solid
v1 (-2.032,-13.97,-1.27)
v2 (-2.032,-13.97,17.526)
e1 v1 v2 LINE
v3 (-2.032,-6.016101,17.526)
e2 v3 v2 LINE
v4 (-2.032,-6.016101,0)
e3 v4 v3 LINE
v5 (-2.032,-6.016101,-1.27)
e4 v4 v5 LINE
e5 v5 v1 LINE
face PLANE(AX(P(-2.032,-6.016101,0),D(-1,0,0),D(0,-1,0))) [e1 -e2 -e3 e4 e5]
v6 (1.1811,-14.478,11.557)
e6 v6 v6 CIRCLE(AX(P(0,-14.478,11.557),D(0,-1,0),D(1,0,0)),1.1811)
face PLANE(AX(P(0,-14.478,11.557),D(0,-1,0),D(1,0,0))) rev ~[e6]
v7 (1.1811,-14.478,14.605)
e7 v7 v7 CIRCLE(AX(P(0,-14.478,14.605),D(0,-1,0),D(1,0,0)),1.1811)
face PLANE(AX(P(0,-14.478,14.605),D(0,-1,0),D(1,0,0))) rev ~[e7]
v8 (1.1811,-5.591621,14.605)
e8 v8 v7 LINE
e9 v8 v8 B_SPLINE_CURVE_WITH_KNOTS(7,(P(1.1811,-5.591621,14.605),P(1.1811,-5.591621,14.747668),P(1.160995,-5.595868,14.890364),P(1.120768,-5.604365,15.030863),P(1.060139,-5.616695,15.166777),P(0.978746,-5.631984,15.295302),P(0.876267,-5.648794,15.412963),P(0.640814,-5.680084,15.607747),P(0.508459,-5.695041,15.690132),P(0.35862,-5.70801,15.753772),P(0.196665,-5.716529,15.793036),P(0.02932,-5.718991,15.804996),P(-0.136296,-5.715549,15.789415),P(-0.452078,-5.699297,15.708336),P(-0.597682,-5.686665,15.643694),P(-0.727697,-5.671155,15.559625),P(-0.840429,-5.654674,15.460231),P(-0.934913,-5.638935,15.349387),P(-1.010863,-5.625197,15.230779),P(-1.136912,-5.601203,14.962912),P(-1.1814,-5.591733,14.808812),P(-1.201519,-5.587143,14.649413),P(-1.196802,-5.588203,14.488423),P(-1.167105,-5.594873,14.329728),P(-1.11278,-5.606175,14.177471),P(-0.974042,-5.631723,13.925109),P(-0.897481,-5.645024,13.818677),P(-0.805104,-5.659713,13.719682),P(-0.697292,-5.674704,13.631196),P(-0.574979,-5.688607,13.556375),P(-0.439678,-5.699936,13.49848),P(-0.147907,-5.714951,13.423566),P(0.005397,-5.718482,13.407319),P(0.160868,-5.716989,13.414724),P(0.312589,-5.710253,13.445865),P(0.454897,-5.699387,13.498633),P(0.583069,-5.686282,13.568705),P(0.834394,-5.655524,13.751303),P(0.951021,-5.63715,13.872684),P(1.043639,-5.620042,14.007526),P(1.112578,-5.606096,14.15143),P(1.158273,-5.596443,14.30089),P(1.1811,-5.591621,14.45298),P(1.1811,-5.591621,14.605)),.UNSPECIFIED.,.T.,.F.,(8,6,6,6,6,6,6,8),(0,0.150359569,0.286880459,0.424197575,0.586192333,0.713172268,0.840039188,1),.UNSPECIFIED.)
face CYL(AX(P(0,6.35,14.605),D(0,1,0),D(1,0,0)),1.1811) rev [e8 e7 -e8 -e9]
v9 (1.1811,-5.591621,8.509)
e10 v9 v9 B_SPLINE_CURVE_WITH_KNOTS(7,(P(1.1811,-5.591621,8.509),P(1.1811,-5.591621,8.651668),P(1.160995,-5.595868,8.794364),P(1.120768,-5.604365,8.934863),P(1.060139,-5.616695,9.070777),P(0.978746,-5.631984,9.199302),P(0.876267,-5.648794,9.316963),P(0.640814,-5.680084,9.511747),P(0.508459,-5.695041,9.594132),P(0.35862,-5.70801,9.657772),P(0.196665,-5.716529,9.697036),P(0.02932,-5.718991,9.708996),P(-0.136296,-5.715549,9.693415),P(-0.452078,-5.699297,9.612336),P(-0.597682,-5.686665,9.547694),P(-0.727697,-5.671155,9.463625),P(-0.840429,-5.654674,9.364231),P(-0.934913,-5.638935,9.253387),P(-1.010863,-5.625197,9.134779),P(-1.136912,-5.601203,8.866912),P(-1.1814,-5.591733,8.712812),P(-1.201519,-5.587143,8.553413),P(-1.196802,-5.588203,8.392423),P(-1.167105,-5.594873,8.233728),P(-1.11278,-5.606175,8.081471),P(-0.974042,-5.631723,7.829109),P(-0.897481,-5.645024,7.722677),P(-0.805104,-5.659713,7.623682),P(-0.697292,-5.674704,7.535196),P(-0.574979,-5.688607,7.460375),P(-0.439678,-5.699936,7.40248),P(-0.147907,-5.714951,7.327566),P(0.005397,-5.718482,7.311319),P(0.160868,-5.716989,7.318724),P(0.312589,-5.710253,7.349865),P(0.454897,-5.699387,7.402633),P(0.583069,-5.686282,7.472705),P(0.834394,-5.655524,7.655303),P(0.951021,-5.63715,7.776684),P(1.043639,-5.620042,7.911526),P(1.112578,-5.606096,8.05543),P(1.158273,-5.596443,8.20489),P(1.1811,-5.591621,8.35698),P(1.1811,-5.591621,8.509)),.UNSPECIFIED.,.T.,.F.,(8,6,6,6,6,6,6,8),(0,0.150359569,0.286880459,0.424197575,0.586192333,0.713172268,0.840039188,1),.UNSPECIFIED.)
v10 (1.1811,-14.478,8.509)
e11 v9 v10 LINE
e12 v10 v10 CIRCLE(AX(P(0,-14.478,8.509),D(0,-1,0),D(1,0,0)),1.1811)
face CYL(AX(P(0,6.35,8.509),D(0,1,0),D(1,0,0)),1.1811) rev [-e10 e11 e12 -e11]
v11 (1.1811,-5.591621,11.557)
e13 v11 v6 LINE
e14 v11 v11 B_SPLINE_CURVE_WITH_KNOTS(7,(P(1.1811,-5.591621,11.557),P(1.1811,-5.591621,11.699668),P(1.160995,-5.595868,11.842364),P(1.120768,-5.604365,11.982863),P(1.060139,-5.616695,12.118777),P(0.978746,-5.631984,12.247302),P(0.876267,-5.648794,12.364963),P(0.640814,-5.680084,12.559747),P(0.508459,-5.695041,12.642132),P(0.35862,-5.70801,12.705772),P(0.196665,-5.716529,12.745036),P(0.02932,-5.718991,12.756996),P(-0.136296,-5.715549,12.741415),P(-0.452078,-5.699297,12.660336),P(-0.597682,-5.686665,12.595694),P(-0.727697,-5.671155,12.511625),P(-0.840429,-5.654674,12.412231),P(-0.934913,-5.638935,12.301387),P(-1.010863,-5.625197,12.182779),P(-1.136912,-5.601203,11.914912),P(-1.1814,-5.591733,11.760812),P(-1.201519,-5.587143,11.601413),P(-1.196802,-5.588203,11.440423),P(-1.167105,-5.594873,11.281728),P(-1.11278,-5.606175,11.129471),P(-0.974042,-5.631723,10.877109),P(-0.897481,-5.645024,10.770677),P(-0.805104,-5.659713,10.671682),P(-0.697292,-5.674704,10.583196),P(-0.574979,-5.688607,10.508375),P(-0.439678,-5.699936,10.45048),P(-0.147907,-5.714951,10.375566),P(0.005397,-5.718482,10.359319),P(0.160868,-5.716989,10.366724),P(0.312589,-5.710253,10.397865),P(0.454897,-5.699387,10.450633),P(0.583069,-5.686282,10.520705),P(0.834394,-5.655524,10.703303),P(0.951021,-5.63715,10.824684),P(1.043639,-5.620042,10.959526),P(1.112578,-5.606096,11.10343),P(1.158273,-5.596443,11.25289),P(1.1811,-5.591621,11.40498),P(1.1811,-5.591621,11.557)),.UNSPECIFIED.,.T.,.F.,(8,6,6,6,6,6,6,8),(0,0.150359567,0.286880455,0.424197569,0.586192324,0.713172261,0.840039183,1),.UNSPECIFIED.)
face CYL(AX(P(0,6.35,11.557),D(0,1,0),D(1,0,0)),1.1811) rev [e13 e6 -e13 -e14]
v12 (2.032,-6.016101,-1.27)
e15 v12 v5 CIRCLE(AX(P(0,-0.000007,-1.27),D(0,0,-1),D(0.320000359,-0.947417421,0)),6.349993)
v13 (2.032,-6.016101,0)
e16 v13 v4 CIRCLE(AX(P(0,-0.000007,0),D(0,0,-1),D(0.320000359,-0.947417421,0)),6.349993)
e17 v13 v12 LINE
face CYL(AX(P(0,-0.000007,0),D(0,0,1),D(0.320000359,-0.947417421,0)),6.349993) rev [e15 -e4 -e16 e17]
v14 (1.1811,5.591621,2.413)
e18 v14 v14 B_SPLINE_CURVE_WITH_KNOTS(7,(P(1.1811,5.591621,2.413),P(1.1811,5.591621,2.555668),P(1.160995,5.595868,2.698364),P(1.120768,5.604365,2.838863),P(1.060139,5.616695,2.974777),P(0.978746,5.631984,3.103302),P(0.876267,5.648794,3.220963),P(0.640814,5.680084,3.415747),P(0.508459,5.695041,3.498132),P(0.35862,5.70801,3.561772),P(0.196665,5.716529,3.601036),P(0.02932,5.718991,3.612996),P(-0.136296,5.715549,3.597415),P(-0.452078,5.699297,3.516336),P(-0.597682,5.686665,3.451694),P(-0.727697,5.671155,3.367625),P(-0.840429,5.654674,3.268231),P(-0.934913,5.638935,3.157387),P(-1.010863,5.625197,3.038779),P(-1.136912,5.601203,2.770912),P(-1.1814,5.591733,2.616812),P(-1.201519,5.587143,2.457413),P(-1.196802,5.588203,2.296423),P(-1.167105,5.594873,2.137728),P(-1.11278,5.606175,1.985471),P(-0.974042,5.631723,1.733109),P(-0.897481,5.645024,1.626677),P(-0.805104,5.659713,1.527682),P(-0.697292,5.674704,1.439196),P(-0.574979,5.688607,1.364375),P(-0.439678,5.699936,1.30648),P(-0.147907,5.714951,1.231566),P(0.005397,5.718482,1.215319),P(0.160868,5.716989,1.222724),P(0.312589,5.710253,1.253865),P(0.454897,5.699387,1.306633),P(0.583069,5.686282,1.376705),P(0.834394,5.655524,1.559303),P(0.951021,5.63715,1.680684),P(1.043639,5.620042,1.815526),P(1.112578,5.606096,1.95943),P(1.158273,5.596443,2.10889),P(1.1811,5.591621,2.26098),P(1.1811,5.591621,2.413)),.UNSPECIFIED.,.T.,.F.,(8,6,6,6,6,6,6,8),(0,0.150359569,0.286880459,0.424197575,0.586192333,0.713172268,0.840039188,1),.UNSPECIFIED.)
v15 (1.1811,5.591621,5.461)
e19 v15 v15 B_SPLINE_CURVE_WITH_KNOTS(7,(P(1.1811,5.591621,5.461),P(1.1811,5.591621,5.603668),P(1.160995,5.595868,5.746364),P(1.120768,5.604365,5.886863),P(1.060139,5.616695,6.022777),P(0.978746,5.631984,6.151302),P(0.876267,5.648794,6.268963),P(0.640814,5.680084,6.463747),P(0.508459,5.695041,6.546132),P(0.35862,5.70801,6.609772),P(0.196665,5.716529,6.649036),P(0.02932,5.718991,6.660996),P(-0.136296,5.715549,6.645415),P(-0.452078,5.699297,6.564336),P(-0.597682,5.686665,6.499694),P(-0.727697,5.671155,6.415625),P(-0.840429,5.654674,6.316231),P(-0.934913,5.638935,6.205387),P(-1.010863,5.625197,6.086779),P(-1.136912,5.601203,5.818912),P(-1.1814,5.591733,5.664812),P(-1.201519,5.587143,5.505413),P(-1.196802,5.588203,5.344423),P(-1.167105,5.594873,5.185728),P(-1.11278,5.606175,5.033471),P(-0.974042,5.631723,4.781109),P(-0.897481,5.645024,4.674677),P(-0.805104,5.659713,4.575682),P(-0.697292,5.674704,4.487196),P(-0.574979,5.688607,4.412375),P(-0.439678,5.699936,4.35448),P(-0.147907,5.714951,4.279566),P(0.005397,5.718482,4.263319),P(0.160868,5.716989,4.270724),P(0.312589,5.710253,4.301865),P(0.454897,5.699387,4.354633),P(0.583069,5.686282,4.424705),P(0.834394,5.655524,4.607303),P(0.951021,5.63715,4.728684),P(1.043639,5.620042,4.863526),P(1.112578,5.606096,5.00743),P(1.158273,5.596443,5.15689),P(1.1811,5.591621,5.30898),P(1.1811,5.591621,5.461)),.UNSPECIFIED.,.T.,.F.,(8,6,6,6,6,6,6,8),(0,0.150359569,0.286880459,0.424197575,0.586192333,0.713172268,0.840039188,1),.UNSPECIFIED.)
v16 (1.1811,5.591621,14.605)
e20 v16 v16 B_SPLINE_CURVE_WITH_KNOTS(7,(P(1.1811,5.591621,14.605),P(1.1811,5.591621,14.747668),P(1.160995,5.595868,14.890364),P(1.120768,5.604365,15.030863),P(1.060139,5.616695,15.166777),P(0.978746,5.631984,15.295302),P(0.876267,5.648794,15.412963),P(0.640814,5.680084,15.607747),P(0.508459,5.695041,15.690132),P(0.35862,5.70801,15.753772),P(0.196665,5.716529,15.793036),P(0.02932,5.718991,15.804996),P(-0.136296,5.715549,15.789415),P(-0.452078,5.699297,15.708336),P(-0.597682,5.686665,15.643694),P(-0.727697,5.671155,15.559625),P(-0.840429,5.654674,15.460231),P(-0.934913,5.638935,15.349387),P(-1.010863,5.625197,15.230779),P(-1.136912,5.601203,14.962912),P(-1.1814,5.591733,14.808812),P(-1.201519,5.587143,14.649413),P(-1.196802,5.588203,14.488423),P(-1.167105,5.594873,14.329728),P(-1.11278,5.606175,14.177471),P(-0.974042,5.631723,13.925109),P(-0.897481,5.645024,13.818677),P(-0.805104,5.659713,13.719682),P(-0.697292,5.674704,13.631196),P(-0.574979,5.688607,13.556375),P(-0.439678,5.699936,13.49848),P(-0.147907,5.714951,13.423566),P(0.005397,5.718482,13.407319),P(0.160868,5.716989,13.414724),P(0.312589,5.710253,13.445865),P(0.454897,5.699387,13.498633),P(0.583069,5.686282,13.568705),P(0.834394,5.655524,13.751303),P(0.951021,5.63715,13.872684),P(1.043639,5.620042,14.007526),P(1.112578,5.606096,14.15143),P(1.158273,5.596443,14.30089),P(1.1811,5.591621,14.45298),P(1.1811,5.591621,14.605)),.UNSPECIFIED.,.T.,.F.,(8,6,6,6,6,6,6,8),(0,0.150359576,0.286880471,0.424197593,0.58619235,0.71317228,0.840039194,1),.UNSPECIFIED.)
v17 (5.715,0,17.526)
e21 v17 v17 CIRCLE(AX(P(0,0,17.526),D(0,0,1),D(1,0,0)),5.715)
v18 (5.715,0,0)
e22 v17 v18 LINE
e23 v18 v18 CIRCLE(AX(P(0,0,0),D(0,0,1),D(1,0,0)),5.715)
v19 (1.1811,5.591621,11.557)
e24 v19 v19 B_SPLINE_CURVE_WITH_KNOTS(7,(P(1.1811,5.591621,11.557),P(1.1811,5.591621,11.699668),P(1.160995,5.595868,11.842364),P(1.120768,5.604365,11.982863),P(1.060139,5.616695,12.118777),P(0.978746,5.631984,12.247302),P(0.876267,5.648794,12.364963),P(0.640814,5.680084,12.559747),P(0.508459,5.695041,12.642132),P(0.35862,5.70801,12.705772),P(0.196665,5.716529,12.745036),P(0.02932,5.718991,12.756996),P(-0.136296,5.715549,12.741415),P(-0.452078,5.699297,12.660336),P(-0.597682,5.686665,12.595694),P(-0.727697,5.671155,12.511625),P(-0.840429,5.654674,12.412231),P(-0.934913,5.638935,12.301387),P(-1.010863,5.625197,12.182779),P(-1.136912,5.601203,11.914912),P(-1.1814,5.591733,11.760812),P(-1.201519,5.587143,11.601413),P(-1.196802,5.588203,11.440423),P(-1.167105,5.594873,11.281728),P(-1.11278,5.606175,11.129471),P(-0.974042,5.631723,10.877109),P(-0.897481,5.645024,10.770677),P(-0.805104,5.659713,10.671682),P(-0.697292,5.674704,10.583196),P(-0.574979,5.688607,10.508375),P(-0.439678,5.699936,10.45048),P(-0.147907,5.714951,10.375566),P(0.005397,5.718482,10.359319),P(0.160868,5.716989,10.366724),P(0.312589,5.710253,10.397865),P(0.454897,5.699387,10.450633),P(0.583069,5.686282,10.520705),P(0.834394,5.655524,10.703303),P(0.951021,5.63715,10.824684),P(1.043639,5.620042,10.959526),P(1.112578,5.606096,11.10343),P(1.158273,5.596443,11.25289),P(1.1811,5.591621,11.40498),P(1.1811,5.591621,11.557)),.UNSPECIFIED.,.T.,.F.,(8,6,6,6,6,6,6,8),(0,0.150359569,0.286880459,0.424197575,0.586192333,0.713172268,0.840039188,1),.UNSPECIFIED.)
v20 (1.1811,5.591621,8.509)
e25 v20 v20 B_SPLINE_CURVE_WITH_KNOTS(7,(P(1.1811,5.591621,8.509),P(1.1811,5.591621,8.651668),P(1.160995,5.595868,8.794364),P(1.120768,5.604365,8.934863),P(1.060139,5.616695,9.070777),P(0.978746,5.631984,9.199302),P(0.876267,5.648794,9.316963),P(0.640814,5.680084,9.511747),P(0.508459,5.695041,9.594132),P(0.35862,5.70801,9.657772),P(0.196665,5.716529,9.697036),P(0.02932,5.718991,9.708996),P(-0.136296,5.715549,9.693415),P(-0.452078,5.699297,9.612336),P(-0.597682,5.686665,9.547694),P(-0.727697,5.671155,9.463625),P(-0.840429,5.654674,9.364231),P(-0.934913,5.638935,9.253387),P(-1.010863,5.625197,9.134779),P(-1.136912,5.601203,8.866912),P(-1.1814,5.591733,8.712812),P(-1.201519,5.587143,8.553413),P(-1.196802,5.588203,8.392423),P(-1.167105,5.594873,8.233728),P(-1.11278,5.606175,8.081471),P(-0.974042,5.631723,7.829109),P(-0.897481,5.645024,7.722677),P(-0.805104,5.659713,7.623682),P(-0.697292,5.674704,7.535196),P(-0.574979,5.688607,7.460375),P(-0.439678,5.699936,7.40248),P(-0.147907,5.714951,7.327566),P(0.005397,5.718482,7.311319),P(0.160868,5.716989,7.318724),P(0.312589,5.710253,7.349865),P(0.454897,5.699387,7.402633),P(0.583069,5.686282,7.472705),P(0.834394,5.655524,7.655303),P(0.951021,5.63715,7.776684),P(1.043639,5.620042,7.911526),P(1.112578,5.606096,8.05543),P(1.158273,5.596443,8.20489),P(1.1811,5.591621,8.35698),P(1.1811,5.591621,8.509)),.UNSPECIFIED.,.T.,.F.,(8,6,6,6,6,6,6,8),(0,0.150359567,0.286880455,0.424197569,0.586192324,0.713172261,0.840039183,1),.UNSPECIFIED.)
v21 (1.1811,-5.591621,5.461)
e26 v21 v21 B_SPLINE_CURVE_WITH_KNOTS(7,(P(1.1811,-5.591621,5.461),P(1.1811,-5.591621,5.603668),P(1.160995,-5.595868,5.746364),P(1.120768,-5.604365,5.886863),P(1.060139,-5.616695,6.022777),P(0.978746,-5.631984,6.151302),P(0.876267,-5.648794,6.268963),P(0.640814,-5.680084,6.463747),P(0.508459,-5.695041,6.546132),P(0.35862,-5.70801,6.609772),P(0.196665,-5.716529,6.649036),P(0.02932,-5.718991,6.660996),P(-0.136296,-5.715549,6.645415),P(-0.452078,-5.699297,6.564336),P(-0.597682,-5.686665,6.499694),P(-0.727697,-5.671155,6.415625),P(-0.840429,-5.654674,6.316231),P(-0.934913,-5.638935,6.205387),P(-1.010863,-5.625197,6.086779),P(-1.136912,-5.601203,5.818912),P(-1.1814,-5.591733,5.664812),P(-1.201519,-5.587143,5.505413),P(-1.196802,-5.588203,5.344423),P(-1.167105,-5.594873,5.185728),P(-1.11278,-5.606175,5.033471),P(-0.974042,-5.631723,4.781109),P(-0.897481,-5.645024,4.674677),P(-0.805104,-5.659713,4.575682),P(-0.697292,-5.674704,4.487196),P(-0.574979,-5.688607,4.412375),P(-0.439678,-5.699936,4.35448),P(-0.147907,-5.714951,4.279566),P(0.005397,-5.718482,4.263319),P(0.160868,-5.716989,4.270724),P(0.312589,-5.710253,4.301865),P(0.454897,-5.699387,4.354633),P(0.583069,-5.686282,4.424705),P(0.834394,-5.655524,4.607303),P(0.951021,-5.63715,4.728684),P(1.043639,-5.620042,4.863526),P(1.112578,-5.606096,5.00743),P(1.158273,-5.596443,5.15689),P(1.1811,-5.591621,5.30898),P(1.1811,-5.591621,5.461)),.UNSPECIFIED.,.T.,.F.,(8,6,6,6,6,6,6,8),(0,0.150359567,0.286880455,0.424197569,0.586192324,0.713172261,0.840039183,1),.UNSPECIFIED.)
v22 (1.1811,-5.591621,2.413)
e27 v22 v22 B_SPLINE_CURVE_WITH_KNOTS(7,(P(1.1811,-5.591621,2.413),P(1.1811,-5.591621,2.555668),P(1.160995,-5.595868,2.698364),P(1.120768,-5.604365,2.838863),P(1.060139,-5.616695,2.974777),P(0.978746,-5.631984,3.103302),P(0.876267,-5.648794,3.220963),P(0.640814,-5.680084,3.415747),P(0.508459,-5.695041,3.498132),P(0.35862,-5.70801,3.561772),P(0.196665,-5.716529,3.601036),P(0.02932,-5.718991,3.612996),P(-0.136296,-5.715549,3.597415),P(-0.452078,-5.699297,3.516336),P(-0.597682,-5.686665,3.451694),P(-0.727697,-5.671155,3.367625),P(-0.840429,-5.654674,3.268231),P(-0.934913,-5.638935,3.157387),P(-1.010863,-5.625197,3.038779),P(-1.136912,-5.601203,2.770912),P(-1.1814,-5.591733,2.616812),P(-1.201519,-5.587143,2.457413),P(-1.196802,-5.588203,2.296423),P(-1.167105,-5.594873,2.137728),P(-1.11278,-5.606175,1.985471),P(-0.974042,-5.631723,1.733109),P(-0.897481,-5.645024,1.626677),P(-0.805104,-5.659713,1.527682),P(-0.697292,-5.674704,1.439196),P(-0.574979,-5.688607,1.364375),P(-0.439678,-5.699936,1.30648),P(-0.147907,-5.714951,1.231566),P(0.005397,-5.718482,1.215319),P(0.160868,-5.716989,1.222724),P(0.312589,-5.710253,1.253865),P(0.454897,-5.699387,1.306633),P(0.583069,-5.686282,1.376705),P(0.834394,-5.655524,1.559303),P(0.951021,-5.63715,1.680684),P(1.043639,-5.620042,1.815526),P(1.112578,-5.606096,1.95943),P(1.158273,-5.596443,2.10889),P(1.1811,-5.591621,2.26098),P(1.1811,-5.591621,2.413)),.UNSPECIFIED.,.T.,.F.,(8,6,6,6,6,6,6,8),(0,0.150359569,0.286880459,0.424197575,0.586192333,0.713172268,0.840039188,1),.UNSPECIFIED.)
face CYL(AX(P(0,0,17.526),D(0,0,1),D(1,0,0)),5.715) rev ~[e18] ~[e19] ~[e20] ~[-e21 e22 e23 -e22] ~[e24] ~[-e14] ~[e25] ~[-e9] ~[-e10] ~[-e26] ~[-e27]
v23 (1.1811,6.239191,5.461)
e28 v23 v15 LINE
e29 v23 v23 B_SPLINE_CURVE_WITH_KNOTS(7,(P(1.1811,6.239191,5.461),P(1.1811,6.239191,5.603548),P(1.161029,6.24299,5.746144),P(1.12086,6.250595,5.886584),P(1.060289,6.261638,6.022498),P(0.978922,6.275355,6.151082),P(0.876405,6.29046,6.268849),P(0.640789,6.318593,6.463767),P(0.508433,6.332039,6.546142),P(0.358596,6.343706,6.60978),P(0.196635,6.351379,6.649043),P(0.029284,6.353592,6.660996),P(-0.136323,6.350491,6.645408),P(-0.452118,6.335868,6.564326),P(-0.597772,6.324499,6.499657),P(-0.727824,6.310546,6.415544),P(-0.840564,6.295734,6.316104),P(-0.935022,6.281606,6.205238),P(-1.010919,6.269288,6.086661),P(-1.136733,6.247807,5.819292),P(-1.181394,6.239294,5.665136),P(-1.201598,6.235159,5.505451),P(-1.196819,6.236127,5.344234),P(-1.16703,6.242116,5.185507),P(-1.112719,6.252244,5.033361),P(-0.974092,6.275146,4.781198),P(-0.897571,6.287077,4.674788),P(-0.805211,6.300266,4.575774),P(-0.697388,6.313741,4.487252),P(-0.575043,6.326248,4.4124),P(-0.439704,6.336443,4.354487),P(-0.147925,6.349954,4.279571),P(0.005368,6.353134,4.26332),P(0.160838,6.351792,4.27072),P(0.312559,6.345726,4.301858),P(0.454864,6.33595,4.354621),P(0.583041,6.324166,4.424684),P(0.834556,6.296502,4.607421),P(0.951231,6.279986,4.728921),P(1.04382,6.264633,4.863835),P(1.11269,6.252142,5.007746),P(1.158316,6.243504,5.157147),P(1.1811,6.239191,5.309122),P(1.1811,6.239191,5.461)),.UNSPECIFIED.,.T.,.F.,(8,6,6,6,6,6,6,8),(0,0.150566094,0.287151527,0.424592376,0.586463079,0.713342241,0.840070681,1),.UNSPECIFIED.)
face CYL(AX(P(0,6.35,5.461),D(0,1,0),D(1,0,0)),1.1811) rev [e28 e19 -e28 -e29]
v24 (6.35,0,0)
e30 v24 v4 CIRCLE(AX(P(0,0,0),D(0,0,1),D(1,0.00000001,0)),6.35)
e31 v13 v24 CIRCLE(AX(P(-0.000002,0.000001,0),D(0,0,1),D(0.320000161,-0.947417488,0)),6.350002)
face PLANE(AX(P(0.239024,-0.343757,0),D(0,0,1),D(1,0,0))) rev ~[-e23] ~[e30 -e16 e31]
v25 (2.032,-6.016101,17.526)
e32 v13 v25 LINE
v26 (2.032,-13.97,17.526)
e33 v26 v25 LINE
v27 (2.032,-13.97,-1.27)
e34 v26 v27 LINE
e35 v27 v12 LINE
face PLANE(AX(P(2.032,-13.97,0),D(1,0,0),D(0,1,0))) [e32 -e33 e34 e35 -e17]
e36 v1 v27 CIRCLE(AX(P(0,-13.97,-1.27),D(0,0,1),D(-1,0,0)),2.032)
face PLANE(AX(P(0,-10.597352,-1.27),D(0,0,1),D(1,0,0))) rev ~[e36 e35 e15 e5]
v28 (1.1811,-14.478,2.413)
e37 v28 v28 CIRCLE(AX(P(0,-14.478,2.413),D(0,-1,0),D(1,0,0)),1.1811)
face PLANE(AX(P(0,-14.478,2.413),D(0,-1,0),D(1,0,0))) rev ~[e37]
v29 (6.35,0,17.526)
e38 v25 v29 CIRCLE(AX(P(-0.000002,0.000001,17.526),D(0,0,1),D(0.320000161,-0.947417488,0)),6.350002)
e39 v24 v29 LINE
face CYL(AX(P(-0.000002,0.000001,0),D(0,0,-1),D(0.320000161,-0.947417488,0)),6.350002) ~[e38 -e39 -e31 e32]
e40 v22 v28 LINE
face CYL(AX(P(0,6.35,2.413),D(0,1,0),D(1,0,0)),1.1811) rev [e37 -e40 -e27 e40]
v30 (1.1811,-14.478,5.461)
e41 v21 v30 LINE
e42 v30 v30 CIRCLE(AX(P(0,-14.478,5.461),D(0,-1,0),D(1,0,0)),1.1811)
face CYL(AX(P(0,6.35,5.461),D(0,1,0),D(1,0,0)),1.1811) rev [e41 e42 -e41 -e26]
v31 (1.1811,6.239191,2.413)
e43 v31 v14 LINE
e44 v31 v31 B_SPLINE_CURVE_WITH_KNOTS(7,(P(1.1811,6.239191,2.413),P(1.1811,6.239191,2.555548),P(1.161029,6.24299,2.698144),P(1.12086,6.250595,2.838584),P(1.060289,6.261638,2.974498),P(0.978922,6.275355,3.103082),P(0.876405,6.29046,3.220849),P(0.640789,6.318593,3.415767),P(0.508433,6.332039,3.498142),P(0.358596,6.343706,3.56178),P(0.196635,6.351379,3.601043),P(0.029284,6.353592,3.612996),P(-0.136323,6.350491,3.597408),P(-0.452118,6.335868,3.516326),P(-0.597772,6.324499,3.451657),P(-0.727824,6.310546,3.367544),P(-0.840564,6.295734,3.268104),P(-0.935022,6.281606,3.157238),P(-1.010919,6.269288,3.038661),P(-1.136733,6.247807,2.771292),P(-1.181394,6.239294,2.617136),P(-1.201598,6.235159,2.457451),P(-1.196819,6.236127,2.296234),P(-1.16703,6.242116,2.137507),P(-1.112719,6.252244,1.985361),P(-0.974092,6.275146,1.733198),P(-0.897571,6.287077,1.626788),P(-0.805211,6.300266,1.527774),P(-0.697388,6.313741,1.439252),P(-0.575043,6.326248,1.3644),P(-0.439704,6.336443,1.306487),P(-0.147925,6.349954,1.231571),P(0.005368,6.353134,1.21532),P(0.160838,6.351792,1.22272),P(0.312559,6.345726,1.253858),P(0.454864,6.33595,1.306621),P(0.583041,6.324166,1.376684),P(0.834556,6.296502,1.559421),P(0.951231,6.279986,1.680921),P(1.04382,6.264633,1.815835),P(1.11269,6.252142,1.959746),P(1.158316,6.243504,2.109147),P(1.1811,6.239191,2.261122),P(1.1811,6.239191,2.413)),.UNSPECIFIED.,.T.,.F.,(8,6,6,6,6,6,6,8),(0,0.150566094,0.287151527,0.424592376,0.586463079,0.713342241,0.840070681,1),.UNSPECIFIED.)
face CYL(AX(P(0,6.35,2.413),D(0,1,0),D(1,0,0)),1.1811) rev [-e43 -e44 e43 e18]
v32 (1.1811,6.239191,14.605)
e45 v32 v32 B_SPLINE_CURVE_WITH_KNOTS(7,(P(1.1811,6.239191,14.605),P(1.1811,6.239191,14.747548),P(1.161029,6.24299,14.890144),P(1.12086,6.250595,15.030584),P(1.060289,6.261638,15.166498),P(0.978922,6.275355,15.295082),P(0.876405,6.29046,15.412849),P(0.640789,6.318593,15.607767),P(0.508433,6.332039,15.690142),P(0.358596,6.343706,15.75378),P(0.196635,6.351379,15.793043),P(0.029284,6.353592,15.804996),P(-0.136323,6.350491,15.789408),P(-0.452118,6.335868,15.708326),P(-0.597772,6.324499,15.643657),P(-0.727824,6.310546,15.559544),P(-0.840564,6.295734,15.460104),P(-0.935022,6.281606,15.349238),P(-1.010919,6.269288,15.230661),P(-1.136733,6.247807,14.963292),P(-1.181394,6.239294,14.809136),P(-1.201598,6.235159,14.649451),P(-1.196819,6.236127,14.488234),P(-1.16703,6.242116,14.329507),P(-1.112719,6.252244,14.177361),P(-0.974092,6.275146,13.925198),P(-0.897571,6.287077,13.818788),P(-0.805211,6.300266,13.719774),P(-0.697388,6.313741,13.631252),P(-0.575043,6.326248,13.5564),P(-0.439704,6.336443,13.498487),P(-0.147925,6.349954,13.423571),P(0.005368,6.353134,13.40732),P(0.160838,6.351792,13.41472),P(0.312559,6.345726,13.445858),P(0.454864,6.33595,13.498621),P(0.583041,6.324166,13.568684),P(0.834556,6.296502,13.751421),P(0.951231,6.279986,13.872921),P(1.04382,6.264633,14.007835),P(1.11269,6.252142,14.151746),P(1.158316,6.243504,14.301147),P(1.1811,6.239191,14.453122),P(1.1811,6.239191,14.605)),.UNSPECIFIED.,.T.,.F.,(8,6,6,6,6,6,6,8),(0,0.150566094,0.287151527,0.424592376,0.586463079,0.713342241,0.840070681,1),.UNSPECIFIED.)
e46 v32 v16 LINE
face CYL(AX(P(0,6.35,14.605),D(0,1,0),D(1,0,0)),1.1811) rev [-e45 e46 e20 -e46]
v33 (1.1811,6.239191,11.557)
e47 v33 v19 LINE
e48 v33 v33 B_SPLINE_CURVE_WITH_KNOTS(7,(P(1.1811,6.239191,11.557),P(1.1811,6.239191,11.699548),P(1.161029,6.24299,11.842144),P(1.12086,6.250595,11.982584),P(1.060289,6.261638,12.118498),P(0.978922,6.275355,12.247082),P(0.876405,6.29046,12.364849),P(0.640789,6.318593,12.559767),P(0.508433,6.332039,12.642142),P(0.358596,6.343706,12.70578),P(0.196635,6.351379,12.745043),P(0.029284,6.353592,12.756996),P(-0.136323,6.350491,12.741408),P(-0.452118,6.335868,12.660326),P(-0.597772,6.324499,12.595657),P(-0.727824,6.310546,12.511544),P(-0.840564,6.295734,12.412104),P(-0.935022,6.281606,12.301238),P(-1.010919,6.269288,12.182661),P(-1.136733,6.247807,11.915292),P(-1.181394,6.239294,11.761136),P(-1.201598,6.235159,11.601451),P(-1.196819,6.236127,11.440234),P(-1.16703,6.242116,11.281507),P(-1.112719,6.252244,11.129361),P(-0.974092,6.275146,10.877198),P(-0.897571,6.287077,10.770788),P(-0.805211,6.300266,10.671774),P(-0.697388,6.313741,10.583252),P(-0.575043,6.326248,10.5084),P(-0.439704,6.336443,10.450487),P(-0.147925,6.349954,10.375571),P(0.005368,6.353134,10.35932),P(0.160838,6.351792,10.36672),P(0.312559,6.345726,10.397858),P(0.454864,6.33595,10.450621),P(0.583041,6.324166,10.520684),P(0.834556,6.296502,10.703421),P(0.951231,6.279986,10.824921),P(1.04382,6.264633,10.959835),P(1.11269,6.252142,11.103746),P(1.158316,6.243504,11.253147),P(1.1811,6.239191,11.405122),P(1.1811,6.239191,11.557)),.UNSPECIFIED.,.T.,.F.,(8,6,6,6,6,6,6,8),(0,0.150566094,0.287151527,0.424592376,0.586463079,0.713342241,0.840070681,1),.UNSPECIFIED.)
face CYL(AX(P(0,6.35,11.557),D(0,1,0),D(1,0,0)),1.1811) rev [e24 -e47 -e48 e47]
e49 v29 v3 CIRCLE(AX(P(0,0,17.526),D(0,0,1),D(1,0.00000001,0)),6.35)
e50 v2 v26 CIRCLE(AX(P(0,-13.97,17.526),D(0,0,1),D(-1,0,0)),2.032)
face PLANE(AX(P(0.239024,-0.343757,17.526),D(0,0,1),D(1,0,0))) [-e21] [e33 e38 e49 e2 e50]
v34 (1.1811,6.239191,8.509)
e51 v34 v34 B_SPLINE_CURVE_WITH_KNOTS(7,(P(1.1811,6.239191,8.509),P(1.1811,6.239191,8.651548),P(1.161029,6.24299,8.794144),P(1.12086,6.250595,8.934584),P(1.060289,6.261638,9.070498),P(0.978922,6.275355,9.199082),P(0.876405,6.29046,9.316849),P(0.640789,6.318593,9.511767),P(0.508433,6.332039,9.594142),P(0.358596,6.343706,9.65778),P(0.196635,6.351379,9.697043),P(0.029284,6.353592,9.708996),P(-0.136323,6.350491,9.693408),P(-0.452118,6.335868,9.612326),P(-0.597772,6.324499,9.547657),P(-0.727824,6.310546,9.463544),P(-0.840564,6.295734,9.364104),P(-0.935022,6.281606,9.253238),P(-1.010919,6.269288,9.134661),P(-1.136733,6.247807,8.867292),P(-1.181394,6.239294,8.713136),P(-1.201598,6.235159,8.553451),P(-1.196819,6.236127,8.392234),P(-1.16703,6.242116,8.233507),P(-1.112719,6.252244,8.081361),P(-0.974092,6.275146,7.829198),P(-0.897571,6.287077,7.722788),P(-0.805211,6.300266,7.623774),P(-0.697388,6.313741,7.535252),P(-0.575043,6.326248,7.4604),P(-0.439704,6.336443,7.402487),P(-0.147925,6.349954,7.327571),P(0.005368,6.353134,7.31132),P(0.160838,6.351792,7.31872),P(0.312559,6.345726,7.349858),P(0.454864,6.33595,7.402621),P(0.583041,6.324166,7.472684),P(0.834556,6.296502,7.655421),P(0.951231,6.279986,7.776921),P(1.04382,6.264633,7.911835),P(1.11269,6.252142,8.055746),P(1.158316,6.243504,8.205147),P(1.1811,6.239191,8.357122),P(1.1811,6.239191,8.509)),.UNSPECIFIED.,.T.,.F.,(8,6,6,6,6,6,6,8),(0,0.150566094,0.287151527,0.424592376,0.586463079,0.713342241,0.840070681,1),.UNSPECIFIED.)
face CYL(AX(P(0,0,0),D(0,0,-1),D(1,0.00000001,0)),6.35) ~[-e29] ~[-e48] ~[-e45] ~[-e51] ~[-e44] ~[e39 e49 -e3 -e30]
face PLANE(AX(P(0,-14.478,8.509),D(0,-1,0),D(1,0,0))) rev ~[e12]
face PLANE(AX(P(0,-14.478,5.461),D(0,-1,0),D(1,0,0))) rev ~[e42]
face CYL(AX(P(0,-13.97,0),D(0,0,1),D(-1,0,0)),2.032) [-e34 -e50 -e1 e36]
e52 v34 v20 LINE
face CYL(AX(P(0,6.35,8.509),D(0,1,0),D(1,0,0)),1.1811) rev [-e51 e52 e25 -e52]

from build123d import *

# Parameters (mm, degrees)
F1_DEPTH = 17.526
F2_DEPTH = 1.27
F3_R     = 5.715
F4_DEPTH = 17.526
F6_R     = 1.1811
F7_DEPTH = 20.828


with BuildPart() as f1:
    # F0 (on Top) → F1 (new body)
    with BuildSketch(Plane.XY):
        with BuildLine():
            ThreePointArc((2.032, -6.016101), (5.158764, -3.702654), (6.35, 0))
            ThreePointArc((6.35, 0), (-3.702654, 5.158764), (-2.032, -6.016101))
            ThreePointArc((-2.032, -6.016101), (0, -6.35), (2.032, -6.016101))
        make_face()
        with BuildLine():
            ThreePointArc((2.032, -6.016101), (0, -6.35), (-2.032, -6.016101))
            Line((-2.032, -6.016101), (-2.032, -13.97))
            ThreePointArc((-2.032, -13.97), (0, -16.002), (2.032, -13.97))
            Line((2.032, -13.97), (2.032, -6.016101))
        make_face()
    extrude(amount=F1_DEPTH)

    # F0 (on Top) → F2 (join)
    with BuildSketch(Plane.XY):
        with BuildLine():
            ThreePointArc((2.032, -6.016101), (0, -6.35), (-2.032, -6.016101))
            Line((-2.032, -6.016101), (-2.032, -13.97))
            ThreePointArc((-2.032, -13.97), (0, -16.002), (2.032, -13.97))
            Line((2.032, -13.97), (2.032, -6.016101))
        make_face()
    extrude(amount=-F2_DEPTH)

    # F3 (on face) → F4 (cut, through all)
    with BuildSketch(Plane.XY.offset(17.526)):
        Circle(F3_R)
    extrude(amount=-F4_DEPTH, mode=Mode.SUBTRACT)

    # F6 (on offset) → F7 (cut)
    with BuildSketch(Plane.XZ.offset(-6.35)):
        with Locations((0, 2.413)):
            Circle(F6_R)
        with Locations((0, 5.461)):
            Circle(F6_R)
        with Locations((0, 8.509)):
            Circle(F6_R)
        with Locations((0, 11.557)):
            Circle(F6_R)
        with Locations((0, 14.605)):
            Circle(F6_R)
    extrude(amount=F7_DEPTH, mode=Mode.SUBTRACT)


solid = f1.part
